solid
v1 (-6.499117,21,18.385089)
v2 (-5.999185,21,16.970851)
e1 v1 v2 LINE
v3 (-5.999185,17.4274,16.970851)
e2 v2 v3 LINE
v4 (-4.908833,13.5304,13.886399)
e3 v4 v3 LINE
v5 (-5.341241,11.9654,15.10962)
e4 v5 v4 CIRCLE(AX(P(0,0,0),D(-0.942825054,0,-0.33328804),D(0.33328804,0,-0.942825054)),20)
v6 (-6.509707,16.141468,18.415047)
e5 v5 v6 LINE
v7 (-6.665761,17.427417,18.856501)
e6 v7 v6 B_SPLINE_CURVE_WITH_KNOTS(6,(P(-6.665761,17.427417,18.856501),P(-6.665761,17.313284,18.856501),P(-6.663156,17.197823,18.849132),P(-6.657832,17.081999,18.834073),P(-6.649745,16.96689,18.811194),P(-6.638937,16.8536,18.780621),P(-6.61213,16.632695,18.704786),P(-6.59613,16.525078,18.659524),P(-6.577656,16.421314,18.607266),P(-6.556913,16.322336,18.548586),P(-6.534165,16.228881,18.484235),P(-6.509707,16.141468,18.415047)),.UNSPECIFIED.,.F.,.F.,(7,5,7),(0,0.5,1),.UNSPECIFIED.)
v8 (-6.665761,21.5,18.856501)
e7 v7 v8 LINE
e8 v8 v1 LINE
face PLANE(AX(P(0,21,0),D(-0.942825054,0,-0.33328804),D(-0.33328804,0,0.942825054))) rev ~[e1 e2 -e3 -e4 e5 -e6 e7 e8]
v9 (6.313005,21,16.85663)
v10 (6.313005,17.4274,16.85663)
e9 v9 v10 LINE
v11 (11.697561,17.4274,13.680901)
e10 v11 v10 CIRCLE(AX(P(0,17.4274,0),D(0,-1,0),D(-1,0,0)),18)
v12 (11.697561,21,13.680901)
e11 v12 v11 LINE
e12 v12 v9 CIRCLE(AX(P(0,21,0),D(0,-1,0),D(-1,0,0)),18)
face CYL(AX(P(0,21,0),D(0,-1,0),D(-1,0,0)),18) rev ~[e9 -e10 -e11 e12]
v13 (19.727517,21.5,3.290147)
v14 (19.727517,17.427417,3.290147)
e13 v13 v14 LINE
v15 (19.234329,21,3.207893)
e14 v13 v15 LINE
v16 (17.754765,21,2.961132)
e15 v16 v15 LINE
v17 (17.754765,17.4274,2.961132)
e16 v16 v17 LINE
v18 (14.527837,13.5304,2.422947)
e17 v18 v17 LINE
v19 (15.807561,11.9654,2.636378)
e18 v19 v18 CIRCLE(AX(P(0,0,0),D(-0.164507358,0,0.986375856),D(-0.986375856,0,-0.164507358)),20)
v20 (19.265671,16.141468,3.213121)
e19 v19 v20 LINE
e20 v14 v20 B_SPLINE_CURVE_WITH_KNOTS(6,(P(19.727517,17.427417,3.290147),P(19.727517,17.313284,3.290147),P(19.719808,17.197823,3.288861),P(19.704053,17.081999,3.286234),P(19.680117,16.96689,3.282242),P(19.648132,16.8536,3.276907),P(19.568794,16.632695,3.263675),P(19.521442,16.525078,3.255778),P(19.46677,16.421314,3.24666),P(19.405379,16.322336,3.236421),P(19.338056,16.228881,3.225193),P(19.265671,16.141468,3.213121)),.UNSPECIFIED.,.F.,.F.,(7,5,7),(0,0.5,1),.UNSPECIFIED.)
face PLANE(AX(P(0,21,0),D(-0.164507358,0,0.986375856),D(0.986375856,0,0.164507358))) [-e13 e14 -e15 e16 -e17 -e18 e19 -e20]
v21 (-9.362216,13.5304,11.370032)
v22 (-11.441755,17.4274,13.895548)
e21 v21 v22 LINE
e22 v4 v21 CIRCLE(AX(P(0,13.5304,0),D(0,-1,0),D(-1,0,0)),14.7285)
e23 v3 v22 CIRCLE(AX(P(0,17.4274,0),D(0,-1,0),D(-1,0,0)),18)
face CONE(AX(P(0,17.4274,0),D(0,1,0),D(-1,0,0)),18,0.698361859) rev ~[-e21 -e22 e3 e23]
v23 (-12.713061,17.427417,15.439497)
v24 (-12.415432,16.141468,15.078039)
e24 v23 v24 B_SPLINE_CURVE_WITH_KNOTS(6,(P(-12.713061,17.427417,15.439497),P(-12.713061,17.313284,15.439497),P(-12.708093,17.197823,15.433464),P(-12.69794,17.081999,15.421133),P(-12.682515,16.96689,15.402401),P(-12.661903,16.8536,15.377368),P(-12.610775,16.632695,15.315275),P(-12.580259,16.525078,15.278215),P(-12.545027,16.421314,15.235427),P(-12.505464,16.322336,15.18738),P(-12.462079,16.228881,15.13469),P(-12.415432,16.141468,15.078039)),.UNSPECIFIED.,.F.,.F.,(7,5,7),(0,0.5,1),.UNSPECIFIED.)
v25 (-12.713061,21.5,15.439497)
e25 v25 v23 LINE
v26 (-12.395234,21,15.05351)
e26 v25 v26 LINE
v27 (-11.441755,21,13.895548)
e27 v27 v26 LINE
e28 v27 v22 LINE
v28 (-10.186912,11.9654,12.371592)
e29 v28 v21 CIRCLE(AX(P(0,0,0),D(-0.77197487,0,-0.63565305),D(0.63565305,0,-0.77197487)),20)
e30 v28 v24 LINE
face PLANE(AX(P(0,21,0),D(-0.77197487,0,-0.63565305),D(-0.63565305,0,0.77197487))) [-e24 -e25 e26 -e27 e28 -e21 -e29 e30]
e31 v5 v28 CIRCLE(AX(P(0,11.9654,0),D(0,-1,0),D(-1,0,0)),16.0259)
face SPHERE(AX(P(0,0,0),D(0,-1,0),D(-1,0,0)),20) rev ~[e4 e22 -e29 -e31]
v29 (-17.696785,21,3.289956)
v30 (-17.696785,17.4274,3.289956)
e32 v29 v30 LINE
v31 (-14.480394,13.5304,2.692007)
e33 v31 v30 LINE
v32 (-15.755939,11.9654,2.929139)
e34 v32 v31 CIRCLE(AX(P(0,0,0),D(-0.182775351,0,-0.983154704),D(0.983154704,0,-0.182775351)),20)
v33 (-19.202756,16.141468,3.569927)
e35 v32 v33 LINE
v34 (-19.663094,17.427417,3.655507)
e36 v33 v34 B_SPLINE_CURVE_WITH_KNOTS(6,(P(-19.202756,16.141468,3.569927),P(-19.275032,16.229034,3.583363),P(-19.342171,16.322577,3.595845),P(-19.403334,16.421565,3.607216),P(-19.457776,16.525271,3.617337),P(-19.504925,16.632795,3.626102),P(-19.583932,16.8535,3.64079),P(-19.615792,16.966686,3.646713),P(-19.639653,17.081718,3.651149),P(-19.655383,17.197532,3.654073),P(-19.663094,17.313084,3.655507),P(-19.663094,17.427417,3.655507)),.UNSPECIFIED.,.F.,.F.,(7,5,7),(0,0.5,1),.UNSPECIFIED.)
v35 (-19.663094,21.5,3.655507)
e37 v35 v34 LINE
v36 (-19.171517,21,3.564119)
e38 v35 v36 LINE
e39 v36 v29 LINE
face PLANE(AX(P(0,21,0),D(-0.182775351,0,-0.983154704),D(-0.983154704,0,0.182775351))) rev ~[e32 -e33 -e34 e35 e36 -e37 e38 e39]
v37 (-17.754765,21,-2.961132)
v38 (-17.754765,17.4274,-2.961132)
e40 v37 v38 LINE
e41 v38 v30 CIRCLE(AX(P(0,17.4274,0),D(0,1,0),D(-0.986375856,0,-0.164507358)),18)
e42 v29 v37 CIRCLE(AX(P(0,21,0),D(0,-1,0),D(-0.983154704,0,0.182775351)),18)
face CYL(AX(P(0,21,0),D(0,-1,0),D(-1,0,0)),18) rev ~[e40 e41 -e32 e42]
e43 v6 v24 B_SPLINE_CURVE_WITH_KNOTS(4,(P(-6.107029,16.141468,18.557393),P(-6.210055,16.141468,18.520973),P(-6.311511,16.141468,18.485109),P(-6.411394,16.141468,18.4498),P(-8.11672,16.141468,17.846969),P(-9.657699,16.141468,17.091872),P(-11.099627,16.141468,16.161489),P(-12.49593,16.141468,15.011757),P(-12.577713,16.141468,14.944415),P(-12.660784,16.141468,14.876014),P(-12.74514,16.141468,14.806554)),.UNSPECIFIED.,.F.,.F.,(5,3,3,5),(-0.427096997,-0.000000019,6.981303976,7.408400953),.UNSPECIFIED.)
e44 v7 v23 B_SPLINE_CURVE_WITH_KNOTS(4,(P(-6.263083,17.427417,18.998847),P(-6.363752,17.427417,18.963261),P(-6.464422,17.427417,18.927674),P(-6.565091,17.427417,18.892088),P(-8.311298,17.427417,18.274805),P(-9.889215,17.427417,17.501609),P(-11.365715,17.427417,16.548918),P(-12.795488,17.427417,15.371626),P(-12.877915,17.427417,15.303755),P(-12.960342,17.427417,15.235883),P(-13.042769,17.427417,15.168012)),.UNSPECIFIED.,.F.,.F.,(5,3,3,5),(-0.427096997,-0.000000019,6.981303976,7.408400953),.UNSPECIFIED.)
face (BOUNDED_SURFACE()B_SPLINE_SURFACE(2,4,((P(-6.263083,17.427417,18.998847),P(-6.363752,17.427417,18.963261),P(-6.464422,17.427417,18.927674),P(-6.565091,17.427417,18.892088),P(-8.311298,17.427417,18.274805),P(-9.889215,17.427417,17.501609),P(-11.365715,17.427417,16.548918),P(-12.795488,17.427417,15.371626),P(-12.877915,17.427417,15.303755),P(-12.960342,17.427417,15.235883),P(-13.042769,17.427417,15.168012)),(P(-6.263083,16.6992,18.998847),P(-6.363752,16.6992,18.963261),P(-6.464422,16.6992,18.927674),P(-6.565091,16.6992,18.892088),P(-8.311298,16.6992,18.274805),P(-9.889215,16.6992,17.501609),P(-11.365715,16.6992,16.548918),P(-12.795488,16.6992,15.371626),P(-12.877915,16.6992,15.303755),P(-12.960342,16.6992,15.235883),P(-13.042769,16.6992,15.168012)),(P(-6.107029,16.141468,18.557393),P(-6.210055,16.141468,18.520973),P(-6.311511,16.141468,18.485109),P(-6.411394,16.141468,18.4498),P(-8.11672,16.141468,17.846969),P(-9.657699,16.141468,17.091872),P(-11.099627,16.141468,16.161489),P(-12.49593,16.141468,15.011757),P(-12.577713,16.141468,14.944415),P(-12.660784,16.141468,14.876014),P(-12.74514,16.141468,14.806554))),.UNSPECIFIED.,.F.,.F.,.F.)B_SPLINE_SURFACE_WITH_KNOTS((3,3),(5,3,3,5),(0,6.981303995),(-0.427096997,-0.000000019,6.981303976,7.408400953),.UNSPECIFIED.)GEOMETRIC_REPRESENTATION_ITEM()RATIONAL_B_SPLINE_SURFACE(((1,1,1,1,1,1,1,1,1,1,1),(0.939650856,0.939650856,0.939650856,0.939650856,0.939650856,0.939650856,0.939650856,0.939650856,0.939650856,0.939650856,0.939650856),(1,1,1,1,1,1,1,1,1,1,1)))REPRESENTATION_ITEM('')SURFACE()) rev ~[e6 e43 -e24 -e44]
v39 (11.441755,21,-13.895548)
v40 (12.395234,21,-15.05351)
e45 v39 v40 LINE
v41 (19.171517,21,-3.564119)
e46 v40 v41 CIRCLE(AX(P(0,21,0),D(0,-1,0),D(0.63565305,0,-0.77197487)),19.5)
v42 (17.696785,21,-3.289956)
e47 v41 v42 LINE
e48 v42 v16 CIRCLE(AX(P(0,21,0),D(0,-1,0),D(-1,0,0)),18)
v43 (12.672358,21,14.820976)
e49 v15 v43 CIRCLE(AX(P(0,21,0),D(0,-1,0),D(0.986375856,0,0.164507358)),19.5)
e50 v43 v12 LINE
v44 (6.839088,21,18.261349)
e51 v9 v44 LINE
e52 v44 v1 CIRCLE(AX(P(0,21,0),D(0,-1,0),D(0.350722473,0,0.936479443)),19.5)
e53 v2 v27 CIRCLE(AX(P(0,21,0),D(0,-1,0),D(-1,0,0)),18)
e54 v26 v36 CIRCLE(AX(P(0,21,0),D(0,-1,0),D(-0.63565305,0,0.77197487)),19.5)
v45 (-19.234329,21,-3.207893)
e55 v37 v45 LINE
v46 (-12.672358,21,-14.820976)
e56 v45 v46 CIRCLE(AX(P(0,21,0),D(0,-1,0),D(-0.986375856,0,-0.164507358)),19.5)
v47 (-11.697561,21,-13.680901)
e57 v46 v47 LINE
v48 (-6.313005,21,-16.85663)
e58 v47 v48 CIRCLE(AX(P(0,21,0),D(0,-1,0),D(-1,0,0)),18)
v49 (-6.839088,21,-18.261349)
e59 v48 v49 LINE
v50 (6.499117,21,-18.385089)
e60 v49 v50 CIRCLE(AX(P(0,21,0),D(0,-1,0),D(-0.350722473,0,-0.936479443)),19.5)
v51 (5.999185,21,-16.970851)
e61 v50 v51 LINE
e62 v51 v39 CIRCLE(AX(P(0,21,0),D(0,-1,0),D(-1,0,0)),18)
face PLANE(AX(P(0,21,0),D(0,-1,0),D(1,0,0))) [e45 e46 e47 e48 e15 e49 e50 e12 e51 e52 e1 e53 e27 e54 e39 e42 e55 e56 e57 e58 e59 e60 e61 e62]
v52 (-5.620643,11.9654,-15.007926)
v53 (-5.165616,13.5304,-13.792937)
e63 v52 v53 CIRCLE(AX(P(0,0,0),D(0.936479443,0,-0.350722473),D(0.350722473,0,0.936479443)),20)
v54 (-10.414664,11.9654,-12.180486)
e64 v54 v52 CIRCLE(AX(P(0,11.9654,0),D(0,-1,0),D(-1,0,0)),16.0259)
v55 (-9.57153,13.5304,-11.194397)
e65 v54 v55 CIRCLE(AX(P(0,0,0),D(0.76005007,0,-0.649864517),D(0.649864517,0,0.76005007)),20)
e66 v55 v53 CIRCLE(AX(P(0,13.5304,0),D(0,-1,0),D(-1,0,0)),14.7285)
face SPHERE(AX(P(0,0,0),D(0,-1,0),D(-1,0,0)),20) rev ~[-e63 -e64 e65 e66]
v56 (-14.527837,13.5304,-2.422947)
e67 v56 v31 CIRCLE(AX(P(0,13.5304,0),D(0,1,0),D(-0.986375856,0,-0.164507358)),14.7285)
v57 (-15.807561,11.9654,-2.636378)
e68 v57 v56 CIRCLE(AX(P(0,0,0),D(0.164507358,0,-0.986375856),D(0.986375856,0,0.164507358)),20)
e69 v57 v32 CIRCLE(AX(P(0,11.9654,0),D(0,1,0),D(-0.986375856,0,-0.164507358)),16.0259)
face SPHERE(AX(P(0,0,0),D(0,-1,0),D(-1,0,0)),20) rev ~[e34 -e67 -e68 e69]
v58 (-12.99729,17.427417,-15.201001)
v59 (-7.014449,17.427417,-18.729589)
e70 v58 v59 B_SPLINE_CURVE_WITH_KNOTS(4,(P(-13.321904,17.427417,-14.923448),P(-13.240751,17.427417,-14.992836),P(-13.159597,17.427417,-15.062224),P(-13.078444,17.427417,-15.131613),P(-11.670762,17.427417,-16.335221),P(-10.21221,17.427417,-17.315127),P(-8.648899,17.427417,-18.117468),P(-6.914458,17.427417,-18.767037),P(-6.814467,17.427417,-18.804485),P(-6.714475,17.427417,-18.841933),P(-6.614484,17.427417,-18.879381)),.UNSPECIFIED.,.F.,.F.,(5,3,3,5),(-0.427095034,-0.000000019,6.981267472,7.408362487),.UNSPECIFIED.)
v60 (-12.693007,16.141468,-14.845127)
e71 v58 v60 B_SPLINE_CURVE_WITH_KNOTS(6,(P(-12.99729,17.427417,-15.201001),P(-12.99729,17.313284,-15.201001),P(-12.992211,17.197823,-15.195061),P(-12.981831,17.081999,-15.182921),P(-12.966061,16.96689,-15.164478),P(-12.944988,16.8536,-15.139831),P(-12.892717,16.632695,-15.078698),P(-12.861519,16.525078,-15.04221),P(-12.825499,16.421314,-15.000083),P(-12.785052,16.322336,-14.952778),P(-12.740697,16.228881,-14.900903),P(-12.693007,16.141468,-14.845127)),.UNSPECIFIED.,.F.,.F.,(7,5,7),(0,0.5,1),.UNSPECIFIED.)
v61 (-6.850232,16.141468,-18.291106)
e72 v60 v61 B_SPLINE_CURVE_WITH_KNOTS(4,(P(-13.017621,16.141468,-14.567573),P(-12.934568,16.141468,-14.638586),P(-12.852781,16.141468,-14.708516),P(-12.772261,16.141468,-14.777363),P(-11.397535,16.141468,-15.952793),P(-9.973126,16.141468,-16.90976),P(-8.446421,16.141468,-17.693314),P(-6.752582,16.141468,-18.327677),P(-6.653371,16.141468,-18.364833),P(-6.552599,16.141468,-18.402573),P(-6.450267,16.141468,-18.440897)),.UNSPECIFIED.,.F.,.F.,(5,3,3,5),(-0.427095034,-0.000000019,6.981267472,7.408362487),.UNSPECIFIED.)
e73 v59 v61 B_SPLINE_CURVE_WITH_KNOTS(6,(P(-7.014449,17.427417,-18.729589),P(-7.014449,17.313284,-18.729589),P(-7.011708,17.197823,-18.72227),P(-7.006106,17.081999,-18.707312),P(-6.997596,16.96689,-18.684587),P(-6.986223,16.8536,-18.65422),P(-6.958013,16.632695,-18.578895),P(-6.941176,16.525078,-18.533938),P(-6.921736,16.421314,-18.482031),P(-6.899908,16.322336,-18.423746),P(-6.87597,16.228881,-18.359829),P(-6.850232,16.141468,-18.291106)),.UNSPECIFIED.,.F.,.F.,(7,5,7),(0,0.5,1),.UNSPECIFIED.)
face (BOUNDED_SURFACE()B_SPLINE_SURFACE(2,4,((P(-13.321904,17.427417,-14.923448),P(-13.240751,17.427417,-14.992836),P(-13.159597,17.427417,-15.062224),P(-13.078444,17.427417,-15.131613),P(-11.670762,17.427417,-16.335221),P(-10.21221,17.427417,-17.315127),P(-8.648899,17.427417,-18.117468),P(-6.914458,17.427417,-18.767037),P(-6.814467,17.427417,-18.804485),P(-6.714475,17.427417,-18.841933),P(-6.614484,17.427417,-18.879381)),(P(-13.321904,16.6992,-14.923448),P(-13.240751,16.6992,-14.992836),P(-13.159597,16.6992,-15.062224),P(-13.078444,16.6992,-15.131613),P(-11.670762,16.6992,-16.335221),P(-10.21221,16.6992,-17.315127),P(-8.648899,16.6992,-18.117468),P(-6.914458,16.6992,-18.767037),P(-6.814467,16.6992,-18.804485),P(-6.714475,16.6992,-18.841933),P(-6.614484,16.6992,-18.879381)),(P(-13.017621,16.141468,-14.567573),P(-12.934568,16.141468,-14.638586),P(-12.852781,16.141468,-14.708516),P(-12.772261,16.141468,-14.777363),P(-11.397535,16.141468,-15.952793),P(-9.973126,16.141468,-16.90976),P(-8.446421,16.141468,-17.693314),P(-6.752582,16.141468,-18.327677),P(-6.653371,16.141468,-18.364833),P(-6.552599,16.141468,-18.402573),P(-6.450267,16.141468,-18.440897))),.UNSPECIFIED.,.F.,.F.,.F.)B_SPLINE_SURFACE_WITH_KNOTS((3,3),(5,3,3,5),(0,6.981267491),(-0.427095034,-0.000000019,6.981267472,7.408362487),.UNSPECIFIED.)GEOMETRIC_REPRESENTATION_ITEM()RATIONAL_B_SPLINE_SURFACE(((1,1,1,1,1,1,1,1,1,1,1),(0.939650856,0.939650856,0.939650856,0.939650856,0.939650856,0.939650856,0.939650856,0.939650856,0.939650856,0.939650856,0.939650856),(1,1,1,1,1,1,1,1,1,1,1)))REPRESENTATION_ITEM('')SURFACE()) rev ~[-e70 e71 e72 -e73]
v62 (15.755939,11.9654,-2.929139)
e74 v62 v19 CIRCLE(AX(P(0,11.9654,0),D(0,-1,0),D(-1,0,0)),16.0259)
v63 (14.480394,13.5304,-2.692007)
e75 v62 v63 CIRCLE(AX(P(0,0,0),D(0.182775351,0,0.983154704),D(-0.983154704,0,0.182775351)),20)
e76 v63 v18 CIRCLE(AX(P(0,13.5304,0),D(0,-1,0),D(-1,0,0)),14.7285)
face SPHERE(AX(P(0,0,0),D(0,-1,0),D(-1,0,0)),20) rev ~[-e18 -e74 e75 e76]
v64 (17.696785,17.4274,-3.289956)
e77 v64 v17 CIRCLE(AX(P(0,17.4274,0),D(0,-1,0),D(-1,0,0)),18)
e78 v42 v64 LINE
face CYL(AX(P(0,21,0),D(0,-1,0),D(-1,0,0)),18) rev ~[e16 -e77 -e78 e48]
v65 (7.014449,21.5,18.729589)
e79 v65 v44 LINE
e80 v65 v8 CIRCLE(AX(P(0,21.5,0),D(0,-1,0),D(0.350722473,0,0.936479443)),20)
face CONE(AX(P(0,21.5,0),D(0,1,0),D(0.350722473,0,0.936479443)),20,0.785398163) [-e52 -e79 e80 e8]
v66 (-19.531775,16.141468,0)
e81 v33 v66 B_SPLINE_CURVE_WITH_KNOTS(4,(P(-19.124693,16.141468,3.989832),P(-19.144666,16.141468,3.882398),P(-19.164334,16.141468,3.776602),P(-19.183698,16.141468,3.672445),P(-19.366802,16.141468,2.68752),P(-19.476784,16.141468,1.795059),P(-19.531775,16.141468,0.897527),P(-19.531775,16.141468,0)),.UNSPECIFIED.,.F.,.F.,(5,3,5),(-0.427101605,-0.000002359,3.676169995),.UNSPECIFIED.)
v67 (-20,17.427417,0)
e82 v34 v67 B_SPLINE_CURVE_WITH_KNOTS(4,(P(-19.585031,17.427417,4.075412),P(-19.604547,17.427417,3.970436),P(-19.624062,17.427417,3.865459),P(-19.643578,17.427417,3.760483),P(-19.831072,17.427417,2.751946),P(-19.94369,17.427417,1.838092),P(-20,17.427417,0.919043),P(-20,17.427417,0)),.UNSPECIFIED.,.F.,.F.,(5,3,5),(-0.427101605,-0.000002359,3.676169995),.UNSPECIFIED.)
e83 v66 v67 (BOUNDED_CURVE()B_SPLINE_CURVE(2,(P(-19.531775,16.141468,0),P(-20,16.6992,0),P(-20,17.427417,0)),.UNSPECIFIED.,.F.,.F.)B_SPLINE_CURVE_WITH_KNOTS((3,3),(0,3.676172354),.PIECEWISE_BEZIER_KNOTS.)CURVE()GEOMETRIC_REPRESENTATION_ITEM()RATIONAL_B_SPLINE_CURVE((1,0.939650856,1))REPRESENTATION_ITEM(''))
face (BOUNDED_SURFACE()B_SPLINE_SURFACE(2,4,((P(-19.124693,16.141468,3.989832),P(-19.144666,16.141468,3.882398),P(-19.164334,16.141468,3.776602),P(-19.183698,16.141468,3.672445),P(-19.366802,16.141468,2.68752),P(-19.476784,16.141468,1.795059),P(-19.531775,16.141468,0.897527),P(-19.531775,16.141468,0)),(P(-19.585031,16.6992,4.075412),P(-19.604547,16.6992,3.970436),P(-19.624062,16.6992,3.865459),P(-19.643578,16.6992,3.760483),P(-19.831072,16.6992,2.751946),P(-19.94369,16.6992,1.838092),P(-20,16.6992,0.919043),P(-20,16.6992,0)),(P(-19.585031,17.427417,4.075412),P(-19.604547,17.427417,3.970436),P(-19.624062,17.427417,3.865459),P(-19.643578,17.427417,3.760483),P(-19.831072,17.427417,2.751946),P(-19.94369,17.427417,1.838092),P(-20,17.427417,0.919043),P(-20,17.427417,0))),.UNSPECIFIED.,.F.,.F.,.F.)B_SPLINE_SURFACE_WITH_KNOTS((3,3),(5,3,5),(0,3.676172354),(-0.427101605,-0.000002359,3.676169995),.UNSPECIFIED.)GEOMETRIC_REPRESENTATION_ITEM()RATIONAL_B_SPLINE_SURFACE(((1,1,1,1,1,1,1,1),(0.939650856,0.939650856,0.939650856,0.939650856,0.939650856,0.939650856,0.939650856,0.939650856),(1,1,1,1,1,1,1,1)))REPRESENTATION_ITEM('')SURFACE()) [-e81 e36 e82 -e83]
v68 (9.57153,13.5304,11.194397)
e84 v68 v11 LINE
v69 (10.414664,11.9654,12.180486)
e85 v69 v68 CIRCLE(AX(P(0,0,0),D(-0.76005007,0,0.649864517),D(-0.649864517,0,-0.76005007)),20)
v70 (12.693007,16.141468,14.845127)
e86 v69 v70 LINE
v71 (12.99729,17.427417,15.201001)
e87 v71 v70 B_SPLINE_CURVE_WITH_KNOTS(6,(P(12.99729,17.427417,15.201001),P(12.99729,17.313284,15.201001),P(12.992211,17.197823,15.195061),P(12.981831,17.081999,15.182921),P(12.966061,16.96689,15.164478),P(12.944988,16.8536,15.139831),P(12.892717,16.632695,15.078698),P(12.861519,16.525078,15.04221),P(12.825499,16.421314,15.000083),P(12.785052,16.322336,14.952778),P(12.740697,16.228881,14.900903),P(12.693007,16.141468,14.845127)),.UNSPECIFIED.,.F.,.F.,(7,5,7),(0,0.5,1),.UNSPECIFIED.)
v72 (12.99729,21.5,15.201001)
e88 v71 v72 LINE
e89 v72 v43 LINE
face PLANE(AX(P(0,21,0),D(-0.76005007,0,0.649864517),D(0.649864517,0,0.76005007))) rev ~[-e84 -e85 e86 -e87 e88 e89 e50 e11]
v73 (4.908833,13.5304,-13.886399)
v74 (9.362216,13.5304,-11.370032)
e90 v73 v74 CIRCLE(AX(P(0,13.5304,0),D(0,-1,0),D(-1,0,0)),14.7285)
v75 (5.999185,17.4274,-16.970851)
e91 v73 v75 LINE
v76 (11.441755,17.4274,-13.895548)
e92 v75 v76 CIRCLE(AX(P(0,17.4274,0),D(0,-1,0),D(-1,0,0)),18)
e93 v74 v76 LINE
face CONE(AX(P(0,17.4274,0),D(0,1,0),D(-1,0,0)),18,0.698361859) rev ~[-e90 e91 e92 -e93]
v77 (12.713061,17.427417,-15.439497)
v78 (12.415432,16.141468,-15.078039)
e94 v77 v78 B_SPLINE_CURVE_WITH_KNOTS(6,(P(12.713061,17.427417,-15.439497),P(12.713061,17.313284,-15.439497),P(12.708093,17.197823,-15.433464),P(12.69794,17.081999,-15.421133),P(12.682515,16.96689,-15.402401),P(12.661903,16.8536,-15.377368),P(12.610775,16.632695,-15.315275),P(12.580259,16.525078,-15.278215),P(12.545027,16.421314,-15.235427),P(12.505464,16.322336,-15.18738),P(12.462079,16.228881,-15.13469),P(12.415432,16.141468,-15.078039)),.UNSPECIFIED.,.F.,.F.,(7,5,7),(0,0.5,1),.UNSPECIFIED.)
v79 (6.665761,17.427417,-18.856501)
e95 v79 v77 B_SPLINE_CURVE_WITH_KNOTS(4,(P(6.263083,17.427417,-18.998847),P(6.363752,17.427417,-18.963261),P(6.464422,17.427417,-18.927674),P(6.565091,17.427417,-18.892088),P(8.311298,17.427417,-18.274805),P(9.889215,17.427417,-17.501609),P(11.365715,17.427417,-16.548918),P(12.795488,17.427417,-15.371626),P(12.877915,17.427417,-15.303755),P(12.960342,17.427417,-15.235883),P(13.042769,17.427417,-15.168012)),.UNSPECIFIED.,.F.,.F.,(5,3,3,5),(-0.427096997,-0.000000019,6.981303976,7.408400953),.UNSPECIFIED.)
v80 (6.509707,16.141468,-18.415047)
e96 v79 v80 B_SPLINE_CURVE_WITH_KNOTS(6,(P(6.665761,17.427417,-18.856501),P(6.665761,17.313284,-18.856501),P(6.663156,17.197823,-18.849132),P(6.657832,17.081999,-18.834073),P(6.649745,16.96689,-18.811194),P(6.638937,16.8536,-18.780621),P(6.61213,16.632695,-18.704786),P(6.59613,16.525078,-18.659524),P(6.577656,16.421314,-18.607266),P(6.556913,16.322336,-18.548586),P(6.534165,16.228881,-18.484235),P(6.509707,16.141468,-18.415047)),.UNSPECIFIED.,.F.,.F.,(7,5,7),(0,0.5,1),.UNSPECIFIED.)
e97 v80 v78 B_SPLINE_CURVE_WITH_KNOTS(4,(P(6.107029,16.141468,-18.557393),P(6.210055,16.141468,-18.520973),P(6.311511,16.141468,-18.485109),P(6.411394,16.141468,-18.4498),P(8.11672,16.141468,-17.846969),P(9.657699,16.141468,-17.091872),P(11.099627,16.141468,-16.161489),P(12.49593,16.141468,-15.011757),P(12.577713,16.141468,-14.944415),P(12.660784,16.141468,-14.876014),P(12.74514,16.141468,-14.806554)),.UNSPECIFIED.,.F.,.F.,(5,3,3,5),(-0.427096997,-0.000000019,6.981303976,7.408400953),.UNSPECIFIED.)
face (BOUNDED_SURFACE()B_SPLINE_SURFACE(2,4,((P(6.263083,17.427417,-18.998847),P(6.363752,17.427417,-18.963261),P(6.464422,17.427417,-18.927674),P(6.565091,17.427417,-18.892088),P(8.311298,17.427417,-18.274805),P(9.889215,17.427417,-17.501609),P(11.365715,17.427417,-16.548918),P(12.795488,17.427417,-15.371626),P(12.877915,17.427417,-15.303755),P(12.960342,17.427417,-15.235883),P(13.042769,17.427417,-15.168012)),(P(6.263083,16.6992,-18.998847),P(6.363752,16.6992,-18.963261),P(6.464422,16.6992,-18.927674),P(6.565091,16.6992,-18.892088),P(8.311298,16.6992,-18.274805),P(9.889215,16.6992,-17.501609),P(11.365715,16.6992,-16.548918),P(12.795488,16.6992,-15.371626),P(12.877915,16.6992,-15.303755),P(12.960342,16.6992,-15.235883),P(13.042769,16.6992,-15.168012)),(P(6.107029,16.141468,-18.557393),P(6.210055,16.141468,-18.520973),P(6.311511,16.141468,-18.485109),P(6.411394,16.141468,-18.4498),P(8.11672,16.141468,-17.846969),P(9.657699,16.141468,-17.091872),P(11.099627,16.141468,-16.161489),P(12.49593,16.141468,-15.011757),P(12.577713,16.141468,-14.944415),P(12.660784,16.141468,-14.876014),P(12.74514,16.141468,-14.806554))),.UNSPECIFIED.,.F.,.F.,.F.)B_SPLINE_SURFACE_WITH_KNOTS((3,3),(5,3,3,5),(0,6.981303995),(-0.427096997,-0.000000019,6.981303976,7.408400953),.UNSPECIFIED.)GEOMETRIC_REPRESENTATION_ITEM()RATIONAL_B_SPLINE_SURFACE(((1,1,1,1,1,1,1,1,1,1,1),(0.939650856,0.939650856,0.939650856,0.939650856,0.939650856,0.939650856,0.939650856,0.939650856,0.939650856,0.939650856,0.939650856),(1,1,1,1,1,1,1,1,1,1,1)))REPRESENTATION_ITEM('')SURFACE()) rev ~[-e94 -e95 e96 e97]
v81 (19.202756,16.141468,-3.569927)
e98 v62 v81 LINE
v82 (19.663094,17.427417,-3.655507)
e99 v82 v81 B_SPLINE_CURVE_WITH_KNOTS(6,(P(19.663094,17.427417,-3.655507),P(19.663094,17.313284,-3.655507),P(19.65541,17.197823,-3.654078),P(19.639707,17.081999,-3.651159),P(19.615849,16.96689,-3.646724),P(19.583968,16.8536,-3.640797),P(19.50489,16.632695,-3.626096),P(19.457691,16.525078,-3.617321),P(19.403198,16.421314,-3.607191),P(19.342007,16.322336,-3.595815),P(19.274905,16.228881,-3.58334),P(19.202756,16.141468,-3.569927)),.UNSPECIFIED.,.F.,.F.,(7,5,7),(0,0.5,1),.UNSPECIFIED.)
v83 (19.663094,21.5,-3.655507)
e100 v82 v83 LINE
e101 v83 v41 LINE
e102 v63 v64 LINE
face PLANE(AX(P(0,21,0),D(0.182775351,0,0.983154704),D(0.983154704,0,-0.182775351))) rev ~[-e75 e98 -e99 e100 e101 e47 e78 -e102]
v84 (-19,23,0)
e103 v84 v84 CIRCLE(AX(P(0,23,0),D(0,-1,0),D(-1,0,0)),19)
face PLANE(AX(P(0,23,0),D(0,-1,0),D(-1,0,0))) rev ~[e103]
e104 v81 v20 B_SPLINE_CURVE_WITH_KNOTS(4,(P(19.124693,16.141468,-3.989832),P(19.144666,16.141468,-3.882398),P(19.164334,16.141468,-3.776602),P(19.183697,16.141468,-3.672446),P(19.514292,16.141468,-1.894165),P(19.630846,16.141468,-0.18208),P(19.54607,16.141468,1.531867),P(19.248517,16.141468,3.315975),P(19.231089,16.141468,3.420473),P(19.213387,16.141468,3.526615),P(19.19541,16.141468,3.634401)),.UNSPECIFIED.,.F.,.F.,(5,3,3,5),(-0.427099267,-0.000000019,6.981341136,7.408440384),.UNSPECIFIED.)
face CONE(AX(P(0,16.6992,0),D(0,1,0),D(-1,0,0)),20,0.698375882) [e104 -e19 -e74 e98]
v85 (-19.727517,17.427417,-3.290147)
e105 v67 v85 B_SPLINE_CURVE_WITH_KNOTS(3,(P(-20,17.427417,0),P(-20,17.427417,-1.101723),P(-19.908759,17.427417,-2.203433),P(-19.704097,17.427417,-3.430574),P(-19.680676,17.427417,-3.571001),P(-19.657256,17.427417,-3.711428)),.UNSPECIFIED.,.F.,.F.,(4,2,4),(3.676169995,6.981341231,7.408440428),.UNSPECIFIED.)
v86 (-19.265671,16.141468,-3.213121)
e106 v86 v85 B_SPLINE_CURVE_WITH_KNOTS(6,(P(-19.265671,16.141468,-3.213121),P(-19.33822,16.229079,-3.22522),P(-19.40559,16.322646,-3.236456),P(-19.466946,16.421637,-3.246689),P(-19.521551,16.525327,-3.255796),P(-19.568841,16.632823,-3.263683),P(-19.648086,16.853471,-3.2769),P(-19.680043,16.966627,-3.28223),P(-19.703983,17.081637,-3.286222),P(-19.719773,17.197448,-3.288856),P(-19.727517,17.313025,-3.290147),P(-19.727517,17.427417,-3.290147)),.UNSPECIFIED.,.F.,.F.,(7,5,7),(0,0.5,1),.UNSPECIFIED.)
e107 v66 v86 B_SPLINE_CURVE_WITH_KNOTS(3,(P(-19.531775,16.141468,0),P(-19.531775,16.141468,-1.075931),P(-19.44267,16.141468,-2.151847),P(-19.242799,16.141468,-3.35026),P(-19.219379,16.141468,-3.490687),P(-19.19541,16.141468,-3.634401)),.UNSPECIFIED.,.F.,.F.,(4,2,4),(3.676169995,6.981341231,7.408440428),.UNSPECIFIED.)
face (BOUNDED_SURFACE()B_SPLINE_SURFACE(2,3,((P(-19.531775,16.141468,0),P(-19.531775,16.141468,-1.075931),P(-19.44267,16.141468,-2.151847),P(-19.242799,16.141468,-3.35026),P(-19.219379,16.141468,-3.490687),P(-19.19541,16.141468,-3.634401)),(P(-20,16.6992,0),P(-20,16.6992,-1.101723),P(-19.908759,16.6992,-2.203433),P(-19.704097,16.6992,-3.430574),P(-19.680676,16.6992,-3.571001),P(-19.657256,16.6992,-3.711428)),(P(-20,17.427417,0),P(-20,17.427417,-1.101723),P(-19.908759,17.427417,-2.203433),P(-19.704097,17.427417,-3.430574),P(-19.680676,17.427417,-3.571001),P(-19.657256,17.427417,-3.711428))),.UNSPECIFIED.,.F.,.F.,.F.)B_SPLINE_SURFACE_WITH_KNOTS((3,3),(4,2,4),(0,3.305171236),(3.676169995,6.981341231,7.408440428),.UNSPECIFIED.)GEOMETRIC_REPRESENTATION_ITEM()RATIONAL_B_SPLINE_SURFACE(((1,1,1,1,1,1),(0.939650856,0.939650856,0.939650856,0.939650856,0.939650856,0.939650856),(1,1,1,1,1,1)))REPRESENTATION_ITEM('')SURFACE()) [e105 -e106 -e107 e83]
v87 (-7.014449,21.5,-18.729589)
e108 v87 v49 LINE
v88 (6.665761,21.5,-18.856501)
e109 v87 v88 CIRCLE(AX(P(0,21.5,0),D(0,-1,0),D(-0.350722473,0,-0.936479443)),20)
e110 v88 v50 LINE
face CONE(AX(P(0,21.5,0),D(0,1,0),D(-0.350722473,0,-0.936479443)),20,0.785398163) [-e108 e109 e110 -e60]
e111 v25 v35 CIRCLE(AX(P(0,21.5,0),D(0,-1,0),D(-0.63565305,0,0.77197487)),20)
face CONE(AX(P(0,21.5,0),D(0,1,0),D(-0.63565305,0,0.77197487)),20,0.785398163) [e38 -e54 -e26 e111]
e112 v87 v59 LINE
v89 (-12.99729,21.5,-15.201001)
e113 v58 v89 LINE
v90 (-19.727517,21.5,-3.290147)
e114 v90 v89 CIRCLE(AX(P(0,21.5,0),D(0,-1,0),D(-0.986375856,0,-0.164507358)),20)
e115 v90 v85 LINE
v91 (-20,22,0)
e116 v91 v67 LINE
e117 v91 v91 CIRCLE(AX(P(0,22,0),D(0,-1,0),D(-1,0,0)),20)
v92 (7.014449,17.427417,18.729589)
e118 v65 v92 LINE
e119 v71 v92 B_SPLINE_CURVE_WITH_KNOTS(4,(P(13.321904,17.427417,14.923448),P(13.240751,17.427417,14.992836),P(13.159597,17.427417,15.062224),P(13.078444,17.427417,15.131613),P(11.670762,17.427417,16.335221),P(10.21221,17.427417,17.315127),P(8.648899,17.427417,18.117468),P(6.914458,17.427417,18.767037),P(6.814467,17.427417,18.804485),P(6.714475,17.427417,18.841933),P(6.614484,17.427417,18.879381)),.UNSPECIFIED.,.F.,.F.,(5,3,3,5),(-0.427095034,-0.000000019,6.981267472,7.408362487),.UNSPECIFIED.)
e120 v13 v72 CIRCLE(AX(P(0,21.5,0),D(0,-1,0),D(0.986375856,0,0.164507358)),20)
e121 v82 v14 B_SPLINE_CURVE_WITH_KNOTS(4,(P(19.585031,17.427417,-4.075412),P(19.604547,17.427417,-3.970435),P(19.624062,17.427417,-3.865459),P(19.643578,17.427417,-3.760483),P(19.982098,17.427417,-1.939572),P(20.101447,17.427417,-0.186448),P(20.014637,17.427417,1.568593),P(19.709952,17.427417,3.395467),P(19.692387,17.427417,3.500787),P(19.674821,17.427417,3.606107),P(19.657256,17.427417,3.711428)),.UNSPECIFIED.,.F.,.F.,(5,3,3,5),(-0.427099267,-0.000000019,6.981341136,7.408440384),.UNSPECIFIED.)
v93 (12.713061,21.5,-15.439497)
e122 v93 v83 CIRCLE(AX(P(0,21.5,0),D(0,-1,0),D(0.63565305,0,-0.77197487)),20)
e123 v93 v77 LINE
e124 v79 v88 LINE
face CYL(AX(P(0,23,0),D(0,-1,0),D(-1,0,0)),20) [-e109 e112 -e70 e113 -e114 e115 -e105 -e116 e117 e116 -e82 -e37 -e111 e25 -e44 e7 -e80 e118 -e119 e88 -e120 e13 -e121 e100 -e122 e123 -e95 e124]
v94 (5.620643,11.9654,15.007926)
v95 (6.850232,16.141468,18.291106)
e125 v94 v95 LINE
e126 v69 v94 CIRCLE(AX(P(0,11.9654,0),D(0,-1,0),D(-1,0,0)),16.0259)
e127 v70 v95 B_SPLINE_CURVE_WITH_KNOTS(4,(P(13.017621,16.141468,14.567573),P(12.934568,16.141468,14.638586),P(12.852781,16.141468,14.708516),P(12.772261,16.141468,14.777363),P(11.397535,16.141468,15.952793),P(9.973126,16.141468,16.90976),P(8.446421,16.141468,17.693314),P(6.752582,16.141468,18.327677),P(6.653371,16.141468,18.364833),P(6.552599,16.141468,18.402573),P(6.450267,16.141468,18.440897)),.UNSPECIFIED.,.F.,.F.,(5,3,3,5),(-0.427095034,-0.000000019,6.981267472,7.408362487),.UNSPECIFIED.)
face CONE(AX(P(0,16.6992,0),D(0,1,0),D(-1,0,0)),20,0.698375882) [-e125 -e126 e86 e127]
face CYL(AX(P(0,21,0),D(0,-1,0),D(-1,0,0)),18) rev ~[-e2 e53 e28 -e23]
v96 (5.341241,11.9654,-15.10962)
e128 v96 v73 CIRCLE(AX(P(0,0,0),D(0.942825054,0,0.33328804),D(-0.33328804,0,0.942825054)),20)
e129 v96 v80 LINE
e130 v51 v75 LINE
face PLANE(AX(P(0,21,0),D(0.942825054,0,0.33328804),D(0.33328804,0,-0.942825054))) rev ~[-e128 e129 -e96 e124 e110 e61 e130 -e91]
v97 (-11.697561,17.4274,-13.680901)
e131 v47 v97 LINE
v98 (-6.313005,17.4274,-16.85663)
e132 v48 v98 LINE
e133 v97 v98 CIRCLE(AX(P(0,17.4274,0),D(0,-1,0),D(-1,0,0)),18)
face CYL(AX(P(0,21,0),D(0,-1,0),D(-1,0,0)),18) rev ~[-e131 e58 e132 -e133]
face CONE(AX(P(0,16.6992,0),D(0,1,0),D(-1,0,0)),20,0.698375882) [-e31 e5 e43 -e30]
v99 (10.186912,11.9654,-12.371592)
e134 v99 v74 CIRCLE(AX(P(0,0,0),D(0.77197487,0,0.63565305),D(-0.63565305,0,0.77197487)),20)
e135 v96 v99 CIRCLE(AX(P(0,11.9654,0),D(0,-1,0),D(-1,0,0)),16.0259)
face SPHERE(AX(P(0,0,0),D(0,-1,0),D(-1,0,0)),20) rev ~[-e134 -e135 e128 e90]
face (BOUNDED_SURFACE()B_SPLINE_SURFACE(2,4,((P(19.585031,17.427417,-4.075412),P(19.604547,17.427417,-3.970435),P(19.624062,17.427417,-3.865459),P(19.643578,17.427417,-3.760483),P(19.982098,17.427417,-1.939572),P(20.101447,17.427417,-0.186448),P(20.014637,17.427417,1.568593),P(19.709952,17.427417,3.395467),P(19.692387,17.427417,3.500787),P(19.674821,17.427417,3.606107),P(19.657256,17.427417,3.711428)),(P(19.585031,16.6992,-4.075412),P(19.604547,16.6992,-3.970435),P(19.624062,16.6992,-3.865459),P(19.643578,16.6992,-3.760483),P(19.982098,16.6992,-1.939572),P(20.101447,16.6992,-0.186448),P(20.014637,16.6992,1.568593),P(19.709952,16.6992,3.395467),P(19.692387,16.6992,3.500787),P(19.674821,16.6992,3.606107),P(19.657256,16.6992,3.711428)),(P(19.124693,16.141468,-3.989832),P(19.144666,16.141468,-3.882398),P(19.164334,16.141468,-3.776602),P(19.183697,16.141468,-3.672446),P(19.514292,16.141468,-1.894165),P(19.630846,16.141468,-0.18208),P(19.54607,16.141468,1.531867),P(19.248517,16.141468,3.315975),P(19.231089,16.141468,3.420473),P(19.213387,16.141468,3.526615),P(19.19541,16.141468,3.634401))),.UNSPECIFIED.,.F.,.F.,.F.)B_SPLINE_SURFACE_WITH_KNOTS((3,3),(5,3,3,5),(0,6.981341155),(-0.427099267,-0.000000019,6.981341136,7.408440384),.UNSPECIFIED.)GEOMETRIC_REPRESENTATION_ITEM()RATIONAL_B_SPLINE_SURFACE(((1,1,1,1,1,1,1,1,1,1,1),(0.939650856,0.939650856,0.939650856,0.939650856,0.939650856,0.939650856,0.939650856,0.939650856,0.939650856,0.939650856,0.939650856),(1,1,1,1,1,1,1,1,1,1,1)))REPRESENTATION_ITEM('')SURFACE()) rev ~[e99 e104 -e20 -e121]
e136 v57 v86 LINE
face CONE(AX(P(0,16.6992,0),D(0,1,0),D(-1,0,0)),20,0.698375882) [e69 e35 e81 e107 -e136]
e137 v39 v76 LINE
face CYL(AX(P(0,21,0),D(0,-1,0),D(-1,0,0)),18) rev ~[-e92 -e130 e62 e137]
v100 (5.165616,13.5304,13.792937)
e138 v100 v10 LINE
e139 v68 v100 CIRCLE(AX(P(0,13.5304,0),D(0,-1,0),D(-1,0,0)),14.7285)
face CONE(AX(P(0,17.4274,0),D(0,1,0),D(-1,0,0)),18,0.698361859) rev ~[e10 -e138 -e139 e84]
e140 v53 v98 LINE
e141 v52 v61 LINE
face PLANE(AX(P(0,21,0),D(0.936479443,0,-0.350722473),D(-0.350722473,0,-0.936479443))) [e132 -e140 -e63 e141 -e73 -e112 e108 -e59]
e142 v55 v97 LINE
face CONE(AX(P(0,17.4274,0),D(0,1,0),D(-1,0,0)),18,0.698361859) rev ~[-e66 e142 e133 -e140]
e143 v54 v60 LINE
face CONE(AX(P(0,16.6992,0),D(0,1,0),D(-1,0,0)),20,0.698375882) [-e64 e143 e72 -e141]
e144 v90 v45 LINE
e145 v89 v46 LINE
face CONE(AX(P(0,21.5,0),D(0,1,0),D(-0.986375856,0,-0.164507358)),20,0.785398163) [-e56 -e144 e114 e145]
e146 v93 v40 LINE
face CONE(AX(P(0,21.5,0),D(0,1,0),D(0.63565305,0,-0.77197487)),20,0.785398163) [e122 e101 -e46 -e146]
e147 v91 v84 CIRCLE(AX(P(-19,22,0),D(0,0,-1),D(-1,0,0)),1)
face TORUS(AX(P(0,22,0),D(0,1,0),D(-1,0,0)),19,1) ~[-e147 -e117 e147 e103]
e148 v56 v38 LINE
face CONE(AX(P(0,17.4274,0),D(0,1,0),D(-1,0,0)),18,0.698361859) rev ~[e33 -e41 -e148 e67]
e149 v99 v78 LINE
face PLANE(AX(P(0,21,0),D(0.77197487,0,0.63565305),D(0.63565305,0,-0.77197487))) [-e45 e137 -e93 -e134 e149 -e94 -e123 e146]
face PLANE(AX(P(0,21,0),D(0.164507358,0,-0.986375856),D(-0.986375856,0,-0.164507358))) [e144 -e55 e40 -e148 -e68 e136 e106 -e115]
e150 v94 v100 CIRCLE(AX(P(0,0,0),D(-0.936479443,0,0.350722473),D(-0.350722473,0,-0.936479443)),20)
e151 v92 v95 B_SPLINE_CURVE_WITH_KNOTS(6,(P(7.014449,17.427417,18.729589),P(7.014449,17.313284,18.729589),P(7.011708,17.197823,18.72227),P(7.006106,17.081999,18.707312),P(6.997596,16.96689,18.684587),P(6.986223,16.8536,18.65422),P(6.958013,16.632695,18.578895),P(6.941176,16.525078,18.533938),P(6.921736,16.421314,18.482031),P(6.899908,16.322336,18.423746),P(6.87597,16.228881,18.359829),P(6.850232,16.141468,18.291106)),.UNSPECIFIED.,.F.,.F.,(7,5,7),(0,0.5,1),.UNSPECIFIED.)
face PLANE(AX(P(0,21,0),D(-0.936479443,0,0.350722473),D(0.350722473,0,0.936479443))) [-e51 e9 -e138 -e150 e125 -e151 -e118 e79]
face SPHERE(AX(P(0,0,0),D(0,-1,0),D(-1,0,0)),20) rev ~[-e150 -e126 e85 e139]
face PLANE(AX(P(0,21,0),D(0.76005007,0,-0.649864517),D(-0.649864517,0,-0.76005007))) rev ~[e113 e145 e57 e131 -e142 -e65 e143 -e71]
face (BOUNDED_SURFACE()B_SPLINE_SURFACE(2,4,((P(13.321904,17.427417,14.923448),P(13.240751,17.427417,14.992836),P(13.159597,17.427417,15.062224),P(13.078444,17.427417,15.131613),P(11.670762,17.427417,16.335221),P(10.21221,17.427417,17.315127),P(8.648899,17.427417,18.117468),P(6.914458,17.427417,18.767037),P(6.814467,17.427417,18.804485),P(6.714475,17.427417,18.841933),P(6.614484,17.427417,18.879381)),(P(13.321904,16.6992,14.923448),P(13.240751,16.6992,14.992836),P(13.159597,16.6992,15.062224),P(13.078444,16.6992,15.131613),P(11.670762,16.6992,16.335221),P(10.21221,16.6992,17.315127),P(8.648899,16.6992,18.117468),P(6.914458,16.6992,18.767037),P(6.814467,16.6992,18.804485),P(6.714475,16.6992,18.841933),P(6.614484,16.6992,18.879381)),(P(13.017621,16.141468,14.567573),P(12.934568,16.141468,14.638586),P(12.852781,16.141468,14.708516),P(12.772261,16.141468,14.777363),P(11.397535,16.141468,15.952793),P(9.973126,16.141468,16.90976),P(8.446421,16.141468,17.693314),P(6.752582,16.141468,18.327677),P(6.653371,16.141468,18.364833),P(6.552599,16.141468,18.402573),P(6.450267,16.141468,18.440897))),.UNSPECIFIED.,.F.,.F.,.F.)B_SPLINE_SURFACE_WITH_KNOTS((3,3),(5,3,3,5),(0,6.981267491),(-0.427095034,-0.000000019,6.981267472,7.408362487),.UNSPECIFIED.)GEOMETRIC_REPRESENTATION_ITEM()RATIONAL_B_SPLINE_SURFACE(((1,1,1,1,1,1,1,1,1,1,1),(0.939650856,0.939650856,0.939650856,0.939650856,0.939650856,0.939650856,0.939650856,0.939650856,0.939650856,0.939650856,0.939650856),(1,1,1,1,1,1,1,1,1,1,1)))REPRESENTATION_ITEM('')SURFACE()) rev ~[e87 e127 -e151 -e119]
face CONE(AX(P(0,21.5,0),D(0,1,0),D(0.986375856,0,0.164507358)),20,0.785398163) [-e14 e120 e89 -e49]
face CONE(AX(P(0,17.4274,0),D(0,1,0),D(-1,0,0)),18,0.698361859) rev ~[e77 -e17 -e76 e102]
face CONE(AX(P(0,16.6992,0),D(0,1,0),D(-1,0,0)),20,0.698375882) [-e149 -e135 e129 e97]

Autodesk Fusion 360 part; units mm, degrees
sketch "Skizze1" plane through (0, 0, 0) normal (0, 0, 1) x (1, 0, 0)
  circle A0 centre (0, 0) radius 20
  line L0 (0, 50) -> (0, -36.4171) construction
  line L1 (-20, 23) -> (20, 23)
  line L2 (20, 23) -> (20, 16.6992)
  line L3 (20, 16.6992) -> (16.0259, 11.9654)
  line L4 (-20, 23) -> (-20, 16.6992)
  line L5 (-20, 16.6992) -> (-16.0259, 11.9654)
  line L6 (-16.0259, 11.9654) -> (16.0259, 11.9654) construction
  line L7 (-18, 21) -> (18, 21)
  line L8 (18, 21) -> (18, 17.4274)
  line L9 (18, 17.4274) -> (14.7285, 13.5304)
  line L10 (-18, 21) -> (-18, 17.4274)
  line L11 (-18, 17.4274) -> (-14.7285, 13.5304)
  line L12 (0, 23) -> (0, 21)
  point P0 (0, 20)
  dimension "d1" = 40
  dimension "d2" = 40
  dimension "d3" = 3
  dimension "d4" = 2
  dimension "d5" = 2
  dimension "d6" = 2
  dimension "d7" = 2
  dimension "d8" = 2
revolve "Drehen1" add sketch "Skizze1" angle 360 about axis through (0, 50, 0) along (0, -1, 0) contours A0 L1 L4 L5 L7 L10 L11 L12
sketch "Skizze2" plane through (0, 21, 0) normal (0, -1, 0) x (1, 0, 0)
  circle A0 centre (0, 0) radius 18
  circle A1 centre (0, 0) radius 20.5
  line L0 (0, 0) -> (7.1898, 19.1978)
  line L1 (0, 0) -> (13.3222, 15.581)
  line L2 (0, 0) -> (17.8478, 10.0849)
  line L3 (0, 0) -> (20.2207, 3.3724)
  line L4 (0, 0) -> (20.1547, -3.7469)
  line L5 (0, 0) -> (0.1901, 20.4991)
  line L6 (0, 0) -> (-6.8324, 19.3279)
  line L7 (0, 0) -> (-13.0309, 15.8255)
  line L8 (0, 0) -> (-17.6577, 10.4142)
  line L9 (0, 0) -> (-20.1547, 3.7469)
  line L10 (0, 0) -> (-20.2207, -3.3724)
  line L11 (0, 0) -> (-17.8478, -10.0849)
  line L12 (0, 0) -> (-13.3222, -15.581)
  line L13 (0, 0) -> (17.6577, -10.4142)
  line L14 (0, 0) -> (13.0309, -15.8255)
  line L15 (0, 0) -> (6.8324, -19.3279)
  line L16 (0, 0) -> (-7.1898, -19.1978)
  line L17 (0, 0) -> (-0.1901, -20.4991)
  dimension "d10" = 41
  dimension "d12" = 20
  dimension "d13" = 20
  dimension "d14" = 20
  dimension "d15" = 20
  dimension "d16" = 20
  dimension "d17" = 20
  dimension "d18" = 20
  dimension "d19" = 20
  dimension "d20" = 20
  dimension "d21" = 20
  dimension "d22" = 20
  dimension "d23" = 20
  dimension "d24" = 20
  dimension "d25" = 20
  dimension "d26" = 20
  dimension "d27" = 20
  dimension "d28" = 20
extrude "Extrusion1" cut sketch "Skizze2" along normal blind 20 contours A0 L2 L3 | A0 A1 L2 L3 | A0 A1 L4 L13 | A0 L4 L13 | A0 L1 L2 | A0 A1 L1 L2 | A0 L0 L5 | A0 L5 L6 | A0 L7 L8 | A0 L8 L9 | A0 L10 L11 | A0 L11 L12 | A0 L13 L14 | A0 L16 L17 | A0 L15 L17 | A0 A1 L13 L14 | A0 A1 L0 L5 | A0 A1 L5 L6 | A0 A1 L7 L8 | A0 A1 L8 L9 | A0 A1 L10 L11 | A0 A1 L11 L12 | A0 A1 L15 L17 | A0 A1 L16 L17
fillet "Abrundung1" radius 2 6 edges at (-10.1602, 16.6992, -17.227) (9.8389, 16.6992, -17.4125) (19.9991, 16.6992, -0.1855) (-19.9991, 16.6992, 0.1855) (-9.8389, 16.6992, 17.4125) (10.1602, 16.6992, 17.227)
chamfer "Fase1" distance 0.5 angle 45 6 edges at (17.227, 21, -10.1602) (-0.1855, 21, -19.9991) (17.4125, 21, 9.8389) (0.1855, 21, 19.9991) (-17.227, 21, 10.1602) (-17.4125, 21, -9.8389)
fillet "Abrundung2" radius 1 1 edges at (-18.6465, 23, 7.2323)
